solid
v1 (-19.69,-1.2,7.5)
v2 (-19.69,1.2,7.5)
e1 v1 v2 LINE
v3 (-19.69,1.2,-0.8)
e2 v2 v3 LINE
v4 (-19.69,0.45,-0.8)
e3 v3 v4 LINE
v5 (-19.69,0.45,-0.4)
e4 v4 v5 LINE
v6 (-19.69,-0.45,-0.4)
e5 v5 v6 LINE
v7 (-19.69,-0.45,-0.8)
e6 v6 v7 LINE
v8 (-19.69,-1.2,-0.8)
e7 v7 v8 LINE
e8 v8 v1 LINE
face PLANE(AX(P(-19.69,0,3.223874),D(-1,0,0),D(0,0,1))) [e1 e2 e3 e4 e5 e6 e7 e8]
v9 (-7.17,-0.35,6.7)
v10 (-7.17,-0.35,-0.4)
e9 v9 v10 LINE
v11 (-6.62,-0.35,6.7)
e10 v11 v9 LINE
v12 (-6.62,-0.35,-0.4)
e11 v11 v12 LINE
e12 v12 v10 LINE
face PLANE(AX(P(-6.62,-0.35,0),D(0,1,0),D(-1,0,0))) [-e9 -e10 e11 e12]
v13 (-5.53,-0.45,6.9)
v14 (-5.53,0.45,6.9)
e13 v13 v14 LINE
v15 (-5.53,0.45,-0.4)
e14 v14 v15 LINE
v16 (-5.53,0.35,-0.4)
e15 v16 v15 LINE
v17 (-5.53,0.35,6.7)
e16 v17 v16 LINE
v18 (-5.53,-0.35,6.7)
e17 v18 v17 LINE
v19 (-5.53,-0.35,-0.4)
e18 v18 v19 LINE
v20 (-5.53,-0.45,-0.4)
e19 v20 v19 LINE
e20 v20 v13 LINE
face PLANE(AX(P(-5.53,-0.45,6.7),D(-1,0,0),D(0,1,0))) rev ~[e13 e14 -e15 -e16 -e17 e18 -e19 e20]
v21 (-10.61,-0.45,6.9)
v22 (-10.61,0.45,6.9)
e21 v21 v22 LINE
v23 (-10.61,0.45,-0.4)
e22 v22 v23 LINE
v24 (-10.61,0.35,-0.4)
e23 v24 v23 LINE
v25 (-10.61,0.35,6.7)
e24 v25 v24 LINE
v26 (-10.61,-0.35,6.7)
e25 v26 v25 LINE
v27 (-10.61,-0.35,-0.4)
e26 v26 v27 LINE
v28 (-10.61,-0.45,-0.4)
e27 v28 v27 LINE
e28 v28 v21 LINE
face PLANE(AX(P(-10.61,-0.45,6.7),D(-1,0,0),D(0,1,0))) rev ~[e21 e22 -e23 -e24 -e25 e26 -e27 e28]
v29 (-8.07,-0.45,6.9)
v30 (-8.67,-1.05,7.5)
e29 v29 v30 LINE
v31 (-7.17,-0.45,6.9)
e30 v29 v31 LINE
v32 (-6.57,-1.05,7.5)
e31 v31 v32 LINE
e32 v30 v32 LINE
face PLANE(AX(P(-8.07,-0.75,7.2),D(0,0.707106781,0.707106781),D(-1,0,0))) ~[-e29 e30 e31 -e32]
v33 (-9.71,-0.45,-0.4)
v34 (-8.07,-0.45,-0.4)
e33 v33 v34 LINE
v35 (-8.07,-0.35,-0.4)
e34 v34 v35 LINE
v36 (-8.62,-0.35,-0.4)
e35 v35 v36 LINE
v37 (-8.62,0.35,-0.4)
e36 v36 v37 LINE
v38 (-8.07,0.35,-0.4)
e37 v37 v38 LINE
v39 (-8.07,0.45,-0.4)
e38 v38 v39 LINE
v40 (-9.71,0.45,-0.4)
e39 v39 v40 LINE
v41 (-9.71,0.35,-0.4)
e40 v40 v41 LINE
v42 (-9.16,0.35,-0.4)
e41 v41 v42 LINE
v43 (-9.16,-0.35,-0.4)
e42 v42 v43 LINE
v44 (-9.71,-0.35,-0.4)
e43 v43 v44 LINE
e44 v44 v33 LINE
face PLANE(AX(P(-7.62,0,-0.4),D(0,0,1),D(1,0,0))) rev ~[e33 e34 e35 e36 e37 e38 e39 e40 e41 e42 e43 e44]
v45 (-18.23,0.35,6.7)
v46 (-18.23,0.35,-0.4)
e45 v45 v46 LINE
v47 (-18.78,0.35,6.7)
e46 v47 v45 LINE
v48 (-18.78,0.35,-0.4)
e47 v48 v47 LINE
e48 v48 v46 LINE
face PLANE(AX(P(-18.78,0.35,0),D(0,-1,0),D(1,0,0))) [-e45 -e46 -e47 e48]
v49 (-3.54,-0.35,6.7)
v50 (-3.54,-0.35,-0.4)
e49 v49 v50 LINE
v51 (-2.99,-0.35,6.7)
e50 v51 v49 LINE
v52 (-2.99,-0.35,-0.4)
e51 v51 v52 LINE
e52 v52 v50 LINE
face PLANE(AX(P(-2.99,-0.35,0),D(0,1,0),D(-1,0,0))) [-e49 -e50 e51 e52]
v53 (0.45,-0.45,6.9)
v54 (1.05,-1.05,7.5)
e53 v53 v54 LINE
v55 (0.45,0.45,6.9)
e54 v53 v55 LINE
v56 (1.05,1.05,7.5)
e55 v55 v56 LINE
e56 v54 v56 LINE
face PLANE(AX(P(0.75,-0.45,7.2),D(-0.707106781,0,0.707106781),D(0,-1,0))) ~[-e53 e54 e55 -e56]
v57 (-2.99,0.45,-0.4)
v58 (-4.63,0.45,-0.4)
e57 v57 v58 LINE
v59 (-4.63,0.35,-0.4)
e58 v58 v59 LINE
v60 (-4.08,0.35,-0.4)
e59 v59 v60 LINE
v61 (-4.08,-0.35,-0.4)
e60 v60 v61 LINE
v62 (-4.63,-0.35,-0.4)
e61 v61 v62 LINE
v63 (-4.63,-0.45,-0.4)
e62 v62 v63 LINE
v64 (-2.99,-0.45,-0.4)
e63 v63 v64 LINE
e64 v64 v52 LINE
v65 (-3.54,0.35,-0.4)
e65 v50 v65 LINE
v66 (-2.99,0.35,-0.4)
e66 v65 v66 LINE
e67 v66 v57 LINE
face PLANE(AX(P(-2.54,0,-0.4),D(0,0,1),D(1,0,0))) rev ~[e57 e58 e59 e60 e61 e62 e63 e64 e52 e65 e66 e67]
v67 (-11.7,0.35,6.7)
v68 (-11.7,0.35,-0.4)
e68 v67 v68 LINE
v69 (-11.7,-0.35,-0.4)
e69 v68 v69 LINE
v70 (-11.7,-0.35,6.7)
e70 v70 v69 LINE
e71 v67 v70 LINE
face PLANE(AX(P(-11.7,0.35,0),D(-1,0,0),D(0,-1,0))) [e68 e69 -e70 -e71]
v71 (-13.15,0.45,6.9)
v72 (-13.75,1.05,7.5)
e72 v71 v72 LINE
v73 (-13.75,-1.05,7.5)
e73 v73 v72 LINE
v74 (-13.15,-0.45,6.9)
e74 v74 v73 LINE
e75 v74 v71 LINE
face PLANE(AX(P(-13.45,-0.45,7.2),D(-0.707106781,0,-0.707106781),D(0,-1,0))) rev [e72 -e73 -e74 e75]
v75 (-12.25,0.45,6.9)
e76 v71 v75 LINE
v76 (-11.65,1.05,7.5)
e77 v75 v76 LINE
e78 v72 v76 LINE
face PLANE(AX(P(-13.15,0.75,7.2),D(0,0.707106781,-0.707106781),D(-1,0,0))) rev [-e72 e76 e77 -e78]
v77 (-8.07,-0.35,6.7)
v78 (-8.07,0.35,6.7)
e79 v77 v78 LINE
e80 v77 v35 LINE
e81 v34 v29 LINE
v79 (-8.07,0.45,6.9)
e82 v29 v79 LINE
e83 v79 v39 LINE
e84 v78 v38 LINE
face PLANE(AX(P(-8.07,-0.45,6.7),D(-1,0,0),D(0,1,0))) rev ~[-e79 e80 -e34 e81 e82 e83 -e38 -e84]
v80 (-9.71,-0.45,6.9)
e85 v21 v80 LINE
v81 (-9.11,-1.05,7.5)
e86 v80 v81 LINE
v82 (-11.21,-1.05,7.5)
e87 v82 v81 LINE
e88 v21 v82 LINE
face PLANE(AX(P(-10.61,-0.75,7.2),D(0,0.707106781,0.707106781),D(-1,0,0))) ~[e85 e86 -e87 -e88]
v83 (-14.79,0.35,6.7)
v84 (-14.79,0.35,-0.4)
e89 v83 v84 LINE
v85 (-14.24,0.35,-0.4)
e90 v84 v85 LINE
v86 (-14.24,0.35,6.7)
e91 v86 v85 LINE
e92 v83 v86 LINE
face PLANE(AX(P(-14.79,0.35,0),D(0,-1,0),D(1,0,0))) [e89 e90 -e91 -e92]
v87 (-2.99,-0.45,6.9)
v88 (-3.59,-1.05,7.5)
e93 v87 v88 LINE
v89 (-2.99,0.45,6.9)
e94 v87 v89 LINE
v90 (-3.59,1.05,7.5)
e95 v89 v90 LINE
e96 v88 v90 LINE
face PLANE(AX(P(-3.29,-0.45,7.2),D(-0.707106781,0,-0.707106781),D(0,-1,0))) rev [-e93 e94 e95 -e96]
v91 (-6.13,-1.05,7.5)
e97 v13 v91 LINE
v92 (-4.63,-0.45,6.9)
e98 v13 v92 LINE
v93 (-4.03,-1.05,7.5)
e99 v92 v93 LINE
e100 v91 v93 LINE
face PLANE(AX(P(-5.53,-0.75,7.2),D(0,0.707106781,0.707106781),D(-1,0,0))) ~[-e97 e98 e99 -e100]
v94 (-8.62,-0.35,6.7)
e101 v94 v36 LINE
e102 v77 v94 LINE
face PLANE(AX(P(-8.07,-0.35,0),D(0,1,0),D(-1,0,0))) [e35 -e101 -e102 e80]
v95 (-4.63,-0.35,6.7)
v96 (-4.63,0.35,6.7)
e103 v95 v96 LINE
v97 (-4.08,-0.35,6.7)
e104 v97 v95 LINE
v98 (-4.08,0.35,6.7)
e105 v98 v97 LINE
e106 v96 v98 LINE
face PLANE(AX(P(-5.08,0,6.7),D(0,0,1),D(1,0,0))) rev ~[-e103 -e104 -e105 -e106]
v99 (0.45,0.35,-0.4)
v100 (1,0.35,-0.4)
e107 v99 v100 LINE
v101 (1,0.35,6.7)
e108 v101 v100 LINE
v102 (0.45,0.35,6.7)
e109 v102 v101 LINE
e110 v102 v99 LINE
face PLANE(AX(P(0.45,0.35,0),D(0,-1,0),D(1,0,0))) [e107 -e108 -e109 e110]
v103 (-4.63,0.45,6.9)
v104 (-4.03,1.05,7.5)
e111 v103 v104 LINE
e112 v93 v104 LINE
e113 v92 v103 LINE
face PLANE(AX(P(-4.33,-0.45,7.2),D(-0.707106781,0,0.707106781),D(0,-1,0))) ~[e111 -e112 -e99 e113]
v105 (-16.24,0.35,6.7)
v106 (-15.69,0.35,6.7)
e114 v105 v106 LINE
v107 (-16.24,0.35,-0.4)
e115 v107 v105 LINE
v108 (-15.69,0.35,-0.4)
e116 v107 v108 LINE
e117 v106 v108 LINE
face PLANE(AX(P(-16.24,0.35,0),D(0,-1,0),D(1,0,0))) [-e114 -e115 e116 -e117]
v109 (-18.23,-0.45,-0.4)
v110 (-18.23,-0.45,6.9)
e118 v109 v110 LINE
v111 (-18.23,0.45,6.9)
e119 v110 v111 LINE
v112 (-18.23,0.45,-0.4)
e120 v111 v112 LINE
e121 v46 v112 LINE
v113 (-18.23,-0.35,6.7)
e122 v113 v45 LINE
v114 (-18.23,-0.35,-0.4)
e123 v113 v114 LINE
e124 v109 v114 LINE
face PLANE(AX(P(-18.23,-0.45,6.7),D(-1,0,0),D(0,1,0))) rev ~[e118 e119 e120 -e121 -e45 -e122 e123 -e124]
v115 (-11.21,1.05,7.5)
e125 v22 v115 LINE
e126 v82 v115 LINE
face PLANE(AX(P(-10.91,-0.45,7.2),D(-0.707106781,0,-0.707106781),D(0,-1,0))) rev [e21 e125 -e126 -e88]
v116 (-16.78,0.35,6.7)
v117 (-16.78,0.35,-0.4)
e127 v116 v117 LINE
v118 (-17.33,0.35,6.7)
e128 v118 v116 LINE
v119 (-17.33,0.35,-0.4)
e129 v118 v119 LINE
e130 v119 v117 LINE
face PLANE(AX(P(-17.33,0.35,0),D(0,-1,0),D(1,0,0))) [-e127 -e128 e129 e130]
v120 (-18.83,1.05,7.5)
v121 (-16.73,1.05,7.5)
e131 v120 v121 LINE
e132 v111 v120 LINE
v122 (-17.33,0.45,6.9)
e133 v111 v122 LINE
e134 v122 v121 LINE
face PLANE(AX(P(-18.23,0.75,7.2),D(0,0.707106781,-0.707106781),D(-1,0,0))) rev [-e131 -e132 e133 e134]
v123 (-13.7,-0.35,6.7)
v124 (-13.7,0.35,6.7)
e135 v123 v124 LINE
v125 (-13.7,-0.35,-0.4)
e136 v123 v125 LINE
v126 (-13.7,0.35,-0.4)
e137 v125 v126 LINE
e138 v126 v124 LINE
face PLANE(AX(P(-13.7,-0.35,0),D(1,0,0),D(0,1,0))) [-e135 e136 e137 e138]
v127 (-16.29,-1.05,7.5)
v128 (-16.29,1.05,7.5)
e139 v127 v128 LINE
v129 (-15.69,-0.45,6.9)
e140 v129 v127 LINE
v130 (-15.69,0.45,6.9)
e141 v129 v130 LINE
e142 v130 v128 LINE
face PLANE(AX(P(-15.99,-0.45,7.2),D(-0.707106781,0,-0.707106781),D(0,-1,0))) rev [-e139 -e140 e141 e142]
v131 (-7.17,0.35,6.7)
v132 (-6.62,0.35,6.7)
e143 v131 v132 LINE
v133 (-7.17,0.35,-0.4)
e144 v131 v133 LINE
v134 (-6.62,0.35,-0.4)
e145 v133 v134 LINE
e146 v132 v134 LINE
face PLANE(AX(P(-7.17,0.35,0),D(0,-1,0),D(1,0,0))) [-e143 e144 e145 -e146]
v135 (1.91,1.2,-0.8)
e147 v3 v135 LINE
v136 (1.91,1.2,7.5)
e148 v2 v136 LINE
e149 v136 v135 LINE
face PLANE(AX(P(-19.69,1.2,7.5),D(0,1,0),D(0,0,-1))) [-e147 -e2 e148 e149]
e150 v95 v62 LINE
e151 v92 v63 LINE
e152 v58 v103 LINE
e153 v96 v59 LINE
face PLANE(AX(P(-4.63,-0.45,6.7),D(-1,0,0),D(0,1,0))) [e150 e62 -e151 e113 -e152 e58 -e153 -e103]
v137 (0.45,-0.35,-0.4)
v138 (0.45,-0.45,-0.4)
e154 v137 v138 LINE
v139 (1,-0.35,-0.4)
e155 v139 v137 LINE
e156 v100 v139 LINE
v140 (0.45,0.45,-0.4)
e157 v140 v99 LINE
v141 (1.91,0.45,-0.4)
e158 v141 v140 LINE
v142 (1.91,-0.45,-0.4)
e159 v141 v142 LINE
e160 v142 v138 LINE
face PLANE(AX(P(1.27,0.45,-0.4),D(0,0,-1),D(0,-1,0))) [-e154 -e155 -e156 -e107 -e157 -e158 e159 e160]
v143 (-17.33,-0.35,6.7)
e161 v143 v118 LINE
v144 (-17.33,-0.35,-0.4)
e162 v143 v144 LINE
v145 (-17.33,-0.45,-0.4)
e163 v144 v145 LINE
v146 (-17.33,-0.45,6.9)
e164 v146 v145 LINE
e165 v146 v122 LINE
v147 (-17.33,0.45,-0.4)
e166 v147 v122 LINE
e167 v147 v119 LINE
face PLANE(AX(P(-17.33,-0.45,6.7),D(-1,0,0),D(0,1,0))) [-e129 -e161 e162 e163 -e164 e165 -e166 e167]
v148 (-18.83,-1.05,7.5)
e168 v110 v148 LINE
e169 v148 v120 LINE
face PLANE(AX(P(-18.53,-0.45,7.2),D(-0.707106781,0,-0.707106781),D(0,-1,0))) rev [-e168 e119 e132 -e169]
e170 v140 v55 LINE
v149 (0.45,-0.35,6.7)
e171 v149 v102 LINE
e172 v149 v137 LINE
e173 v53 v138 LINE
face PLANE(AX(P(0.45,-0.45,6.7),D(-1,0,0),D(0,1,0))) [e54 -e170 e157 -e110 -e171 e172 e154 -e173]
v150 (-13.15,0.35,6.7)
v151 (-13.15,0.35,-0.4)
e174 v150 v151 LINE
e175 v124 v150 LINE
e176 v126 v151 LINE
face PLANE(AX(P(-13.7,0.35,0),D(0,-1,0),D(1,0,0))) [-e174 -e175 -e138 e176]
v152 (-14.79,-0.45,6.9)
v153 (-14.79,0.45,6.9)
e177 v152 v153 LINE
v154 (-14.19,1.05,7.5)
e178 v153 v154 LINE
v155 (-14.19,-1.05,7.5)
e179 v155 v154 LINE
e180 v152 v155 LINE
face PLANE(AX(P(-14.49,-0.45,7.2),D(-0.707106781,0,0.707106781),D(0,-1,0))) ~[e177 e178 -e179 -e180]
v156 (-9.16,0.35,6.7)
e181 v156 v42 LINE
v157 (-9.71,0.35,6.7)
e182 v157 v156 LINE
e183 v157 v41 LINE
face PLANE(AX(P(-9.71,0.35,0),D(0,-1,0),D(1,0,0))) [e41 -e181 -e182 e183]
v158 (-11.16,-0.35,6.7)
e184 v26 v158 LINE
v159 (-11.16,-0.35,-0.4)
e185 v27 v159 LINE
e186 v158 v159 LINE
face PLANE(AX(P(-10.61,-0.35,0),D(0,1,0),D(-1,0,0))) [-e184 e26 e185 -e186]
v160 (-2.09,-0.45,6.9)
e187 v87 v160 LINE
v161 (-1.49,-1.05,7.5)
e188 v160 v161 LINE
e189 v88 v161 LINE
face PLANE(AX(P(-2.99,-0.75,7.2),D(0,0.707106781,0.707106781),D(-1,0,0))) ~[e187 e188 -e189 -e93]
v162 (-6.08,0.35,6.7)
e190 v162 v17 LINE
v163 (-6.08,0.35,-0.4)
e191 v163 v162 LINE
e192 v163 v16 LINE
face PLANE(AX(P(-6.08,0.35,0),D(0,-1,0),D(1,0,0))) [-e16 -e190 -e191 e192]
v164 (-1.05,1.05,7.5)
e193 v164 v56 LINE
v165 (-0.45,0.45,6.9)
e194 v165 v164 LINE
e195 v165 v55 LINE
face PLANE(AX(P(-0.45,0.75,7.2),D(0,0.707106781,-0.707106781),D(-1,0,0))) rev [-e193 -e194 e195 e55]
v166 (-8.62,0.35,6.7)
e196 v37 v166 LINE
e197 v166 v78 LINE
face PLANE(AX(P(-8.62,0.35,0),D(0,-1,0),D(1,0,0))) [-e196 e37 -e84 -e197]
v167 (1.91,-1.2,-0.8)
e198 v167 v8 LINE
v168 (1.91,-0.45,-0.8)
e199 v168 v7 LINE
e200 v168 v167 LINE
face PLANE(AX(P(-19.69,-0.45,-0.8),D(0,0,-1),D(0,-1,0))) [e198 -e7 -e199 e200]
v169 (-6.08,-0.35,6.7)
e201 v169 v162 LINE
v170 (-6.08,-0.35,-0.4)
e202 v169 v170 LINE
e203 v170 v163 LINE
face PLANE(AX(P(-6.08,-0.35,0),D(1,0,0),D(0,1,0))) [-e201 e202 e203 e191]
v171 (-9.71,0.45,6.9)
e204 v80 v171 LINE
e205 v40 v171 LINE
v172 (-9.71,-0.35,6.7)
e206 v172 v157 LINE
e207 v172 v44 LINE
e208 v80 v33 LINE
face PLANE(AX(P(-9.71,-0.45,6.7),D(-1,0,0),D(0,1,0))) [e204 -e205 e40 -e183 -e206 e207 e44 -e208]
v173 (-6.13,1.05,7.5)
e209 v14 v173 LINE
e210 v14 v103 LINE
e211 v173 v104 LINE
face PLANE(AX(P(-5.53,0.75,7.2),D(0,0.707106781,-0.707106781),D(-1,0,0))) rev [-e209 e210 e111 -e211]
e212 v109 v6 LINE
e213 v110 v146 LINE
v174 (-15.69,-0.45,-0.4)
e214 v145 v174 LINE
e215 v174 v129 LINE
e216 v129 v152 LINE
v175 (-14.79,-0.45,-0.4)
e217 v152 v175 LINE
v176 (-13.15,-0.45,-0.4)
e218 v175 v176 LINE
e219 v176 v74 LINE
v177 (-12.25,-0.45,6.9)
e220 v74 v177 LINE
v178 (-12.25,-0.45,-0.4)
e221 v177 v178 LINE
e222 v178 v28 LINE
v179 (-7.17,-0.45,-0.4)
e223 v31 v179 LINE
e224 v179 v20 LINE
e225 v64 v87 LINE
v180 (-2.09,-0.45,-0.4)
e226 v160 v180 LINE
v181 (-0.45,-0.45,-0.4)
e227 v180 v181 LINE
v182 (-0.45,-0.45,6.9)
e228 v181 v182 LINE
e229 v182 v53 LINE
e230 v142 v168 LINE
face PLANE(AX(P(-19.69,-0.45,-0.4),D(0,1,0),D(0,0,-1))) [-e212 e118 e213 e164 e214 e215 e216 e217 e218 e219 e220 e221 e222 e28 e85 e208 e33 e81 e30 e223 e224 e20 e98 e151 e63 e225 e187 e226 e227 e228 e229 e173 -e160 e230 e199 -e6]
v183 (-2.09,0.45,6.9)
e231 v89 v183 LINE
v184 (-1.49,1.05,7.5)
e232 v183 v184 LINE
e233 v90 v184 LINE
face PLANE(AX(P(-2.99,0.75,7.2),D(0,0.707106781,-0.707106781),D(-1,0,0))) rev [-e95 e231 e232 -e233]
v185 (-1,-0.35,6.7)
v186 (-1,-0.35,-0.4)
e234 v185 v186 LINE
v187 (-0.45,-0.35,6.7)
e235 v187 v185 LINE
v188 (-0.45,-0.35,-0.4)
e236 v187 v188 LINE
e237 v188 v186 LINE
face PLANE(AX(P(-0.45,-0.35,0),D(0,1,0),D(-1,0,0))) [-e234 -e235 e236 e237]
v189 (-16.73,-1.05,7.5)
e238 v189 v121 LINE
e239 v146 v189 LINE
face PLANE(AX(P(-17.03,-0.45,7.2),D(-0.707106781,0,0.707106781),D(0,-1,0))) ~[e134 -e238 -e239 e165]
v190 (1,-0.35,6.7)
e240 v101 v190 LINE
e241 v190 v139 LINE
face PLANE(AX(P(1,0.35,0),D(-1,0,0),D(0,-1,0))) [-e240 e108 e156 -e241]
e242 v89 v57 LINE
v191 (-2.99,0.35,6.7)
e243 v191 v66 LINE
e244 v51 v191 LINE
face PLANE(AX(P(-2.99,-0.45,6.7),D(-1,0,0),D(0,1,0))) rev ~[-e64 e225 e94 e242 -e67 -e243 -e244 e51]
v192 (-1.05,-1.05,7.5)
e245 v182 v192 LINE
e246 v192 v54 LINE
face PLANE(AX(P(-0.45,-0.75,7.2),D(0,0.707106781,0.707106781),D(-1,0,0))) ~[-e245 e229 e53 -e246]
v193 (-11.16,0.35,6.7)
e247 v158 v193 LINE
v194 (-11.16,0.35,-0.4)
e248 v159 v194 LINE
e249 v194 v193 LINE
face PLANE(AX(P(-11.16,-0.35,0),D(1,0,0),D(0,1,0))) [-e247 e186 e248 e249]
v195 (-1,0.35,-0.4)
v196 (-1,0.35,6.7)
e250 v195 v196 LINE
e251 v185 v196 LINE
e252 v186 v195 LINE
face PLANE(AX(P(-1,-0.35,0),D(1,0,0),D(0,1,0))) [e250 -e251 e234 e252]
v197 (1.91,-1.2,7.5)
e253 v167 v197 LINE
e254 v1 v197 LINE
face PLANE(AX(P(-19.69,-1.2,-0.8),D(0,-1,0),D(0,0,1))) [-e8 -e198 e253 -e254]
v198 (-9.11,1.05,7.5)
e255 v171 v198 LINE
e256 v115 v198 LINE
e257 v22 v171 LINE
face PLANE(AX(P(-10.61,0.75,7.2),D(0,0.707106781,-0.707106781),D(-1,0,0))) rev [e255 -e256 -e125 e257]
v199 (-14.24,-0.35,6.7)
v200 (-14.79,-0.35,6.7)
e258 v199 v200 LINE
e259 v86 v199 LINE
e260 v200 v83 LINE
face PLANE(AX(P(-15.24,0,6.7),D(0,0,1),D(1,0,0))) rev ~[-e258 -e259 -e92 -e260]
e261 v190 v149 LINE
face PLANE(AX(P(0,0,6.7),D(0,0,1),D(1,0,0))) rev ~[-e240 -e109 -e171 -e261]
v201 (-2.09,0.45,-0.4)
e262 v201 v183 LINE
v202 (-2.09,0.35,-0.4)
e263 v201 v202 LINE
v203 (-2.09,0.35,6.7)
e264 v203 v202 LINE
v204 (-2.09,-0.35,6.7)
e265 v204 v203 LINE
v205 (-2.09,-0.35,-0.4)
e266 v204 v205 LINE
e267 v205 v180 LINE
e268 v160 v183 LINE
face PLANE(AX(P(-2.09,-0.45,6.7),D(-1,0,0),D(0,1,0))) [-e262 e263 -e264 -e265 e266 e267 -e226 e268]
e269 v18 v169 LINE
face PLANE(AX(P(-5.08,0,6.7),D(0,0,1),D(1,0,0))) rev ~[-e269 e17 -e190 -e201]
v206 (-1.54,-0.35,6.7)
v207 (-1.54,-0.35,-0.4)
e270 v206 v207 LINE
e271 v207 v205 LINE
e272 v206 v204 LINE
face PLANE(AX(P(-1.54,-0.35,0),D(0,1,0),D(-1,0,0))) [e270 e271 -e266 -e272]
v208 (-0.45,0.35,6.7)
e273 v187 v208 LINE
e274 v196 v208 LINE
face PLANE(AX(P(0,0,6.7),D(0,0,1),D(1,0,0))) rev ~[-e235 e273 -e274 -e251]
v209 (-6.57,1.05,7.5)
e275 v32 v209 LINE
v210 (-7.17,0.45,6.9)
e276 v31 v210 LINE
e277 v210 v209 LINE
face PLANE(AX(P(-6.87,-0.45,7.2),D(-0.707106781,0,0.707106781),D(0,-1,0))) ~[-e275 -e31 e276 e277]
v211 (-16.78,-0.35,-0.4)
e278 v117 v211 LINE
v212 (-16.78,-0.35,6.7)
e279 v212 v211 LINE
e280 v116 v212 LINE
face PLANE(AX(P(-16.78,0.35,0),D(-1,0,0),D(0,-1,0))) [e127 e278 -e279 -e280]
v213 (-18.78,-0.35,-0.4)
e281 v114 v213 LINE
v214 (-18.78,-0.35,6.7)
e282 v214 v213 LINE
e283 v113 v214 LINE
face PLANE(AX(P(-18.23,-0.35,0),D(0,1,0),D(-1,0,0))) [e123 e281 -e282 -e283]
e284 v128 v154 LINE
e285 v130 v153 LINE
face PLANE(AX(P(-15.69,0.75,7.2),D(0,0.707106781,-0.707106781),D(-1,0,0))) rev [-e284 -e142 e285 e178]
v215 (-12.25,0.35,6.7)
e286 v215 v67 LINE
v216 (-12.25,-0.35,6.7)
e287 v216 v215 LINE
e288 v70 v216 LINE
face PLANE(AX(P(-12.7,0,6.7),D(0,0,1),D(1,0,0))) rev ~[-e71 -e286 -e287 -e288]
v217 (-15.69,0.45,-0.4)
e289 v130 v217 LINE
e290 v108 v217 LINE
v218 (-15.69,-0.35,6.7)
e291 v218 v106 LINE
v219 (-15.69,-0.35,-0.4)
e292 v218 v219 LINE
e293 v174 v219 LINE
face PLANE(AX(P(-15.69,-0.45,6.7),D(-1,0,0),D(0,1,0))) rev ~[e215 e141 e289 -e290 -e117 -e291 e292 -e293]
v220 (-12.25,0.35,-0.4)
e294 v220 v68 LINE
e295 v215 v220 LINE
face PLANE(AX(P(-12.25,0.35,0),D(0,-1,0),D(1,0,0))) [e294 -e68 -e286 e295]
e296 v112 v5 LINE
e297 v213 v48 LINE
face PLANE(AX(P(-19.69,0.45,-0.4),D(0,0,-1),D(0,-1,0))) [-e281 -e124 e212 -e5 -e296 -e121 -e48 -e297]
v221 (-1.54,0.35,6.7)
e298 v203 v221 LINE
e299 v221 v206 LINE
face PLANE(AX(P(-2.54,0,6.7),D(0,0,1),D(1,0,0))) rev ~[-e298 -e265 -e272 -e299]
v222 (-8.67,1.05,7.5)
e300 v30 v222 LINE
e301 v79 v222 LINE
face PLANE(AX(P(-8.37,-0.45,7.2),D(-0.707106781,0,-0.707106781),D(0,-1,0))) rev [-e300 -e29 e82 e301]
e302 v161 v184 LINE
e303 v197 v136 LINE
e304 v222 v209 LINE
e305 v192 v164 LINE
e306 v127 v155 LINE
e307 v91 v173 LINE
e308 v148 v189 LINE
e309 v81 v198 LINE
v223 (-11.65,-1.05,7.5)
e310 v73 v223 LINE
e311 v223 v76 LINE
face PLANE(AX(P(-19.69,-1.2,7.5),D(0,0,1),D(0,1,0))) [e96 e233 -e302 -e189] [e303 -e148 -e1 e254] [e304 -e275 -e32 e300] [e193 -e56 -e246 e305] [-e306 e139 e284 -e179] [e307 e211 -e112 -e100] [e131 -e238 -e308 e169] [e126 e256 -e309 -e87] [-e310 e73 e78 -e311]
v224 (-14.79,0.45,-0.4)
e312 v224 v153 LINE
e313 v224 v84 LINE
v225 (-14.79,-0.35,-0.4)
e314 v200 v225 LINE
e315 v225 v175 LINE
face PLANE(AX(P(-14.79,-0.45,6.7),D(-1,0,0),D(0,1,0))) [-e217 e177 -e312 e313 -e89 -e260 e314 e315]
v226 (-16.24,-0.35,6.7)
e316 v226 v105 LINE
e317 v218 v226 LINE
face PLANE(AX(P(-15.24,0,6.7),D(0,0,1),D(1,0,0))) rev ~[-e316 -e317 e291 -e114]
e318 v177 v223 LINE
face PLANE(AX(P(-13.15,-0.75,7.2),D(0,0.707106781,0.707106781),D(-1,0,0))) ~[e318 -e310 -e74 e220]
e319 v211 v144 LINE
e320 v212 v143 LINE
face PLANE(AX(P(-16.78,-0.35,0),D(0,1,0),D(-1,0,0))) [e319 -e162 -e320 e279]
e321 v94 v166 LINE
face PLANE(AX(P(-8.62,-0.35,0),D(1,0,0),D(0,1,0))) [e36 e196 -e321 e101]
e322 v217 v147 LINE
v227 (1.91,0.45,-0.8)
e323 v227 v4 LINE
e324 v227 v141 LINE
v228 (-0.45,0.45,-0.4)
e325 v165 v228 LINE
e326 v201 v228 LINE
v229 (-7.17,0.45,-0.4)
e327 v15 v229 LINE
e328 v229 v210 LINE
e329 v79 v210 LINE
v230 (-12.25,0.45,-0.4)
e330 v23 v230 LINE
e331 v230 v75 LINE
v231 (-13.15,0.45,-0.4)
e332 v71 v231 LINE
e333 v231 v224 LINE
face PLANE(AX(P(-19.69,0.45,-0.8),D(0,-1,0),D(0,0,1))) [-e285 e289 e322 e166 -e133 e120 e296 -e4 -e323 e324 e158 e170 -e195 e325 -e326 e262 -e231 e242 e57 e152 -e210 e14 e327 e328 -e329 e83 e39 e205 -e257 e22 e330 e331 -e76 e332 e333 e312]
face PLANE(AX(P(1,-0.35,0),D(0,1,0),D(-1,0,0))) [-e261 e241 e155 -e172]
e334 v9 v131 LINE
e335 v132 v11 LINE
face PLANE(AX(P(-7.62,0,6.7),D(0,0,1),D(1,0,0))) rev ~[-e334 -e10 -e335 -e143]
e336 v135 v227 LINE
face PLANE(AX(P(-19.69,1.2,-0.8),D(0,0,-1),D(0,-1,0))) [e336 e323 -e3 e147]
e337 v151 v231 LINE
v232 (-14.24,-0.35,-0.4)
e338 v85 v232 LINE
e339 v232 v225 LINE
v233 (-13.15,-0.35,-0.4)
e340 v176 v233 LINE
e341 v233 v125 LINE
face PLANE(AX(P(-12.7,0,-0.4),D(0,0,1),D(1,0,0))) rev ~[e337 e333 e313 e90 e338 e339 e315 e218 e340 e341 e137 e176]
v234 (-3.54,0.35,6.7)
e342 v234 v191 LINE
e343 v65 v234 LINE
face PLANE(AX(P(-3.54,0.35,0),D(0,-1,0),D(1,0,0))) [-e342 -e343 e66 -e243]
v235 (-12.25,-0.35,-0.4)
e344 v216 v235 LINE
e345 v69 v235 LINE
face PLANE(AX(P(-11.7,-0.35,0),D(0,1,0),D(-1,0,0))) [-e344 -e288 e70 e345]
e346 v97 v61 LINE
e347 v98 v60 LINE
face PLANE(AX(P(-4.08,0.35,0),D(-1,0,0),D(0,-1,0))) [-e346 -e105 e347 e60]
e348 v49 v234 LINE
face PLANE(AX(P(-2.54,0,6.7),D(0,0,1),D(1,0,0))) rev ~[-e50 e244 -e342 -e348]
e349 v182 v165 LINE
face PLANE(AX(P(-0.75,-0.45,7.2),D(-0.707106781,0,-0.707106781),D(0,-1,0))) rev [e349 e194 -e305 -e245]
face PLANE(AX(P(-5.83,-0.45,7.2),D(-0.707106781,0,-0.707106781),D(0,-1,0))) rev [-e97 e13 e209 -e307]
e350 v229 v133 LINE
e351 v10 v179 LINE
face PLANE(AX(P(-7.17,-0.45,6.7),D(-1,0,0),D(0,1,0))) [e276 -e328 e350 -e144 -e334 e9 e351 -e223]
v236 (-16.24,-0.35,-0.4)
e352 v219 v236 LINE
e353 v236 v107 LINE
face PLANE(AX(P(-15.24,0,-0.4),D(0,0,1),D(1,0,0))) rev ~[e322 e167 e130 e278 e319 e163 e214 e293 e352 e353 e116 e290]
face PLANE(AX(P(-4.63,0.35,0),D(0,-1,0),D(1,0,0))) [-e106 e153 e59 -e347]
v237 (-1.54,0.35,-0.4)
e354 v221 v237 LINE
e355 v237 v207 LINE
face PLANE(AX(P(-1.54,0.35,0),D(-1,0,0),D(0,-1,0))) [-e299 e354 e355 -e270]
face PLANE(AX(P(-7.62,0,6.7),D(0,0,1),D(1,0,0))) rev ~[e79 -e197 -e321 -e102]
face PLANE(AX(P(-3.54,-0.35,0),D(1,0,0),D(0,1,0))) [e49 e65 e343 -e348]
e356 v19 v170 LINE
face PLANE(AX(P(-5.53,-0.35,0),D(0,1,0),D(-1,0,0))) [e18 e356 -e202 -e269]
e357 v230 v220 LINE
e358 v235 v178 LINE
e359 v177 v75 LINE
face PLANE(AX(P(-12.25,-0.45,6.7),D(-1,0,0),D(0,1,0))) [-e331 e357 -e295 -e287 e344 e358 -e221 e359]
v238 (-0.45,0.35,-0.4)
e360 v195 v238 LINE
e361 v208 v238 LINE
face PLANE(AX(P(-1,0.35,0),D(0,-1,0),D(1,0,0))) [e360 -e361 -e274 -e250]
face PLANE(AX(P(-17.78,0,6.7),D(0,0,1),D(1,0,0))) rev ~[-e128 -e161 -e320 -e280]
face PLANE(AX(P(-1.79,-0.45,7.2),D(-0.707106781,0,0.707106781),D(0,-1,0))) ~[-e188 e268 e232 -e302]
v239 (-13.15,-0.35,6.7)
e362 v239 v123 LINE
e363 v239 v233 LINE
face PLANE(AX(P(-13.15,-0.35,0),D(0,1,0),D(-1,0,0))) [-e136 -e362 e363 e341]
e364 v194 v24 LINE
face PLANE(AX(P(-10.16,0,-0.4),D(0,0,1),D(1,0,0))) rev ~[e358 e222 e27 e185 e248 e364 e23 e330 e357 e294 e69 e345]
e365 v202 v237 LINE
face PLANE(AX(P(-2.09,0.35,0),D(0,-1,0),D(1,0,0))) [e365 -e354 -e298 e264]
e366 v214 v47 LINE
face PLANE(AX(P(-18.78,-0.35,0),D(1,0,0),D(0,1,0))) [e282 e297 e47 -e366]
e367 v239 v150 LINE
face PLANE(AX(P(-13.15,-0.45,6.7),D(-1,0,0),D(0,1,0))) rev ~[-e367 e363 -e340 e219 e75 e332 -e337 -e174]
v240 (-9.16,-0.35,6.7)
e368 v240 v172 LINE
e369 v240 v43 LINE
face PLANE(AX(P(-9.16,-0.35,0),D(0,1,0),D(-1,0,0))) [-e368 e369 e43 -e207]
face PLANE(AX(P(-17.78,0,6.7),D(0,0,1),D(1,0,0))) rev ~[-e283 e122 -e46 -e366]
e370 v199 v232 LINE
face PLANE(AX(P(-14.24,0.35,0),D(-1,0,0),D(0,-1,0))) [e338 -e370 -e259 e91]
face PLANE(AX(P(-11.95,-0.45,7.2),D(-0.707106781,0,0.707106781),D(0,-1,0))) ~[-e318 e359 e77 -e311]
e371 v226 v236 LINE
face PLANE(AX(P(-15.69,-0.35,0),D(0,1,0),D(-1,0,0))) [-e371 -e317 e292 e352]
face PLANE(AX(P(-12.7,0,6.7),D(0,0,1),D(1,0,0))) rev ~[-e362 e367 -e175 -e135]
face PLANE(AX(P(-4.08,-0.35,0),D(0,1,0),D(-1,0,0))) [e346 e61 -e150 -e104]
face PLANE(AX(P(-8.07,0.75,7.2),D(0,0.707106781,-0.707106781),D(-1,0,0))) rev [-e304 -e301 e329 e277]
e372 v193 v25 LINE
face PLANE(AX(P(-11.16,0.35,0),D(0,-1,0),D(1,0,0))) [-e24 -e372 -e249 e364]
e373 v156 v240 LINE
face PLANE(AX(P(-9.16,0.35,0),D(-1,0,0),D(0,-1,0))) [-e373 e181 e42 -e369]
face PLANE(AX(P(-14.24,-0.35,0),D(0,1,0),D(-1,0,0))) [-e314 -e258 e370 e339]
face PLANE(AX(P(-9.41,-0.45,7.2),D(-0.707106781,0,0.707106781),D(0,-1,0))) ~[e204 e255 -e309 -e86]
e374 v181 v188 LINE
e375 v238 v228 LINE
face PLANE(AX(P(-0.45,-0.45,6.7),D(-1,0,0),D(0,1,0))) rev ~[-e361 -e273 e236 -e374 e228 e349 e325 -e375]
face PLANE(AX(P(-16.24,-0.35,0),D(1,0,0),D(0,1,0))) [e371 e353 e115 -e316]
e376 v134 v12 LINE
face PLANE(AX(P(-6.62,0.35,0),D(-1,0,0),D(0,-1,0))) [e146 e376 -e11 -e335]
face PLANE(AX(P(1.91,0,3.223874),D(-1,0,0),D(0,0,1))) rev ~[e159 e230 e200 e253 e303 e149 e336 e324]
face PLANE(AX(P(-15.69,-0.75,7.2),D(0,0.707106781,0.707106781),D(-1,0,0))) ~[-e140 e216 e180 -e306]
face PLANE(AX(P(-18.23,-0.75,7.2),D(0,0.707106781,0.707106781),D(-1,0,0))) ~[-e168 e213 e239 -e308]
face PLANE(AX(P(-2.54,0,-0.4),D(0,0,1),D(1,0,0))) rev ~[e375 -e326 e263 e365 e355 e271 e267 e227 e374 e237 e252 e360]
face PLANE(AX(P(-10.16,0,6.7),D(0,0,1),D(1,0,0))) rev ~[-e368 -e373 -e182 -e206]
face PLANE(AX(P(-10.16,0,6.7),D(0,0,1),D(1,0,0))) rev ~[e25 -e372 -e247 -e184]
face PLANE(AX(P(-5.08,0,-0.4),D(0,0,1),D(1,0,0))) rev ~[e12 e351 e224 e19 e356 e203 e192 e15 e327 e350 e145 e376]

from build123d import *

# Parameters (mm, degrees)
SKETCH_222_W              = 2.54
SKETCH_222_H              = 2.4
EXTRUDE_699_DEPTH         = 6.7
EXTRUDE_699_DEPTH_BACK    = 0.4
SKETCH_753_W              = 2.54
SKETCH_753_H              = 0.75
EXTRUDE_1132_DEPTH        = 0.4
SKETCH_1186_W             = 2.54
SKETCH_1186_H             = 2.4
SKETCH_1186_W_2           = 0.9
SKETCH_1186_H_2           = 0.9
EXTRUDE_1471_DEPTH        = 0.8
CHAMFER_1532_SIZE         = 0.6
PATTERN_LINEAR_1658_COUNT = 8
PATTERN_LINEAR_1658_PITCH = 2.54
EXTRUDE_1_DEPTH           = 0.64
EXTRUDE_START             = -20.96
EXTRUDE_2_DEPTH           = 0.64


with BuildPart() as part:
    # Sketch 222 → Extrude 699 (new body, two sides)
    with BuildSketch(Plane.XY) as extrude_699_sk:
        Rectangle(SKETCH_222_W, SKETCH_222_H)
        Polygon((-1, 0.35), (-0.45, 0.35), (-0.45, 0.45), (0.45, 0.45), (0.45, 0.35), (1, 0.35), (1, -0.35), (0.45, -0.35), (0.45, -0.45), (-0.45, -0.45), (-0.45, -0.35), (-1, -0.35), align=None, mode=Mode.SUBTRACT)
    extrude(amount=EXTRUDE_699_DEPTH)
    extrude(extrude_699_sk.sketch, amount=-EXTRUDE_699_DEPTH_BACK)

    # Sketch 753 → Extrude 1132 (add)
    with BuildSketch(Plane(origin=(0, 0, -0.4), x_dir=(-1, 0, 0), z_dir=(0, 0, -1))):
        with Locations((0, -0.825)):
            Rectangle(SKETCH_753_W, SKETCH_753_H)
        with Locations((0, 0.825)):
            Rectangle(SKETCH_753_W, SKETCH_753_H)
    extrude(amount=EXTRUDE_1132_DEPTH)

    # Sketch 1186 → Extrude 1471 (add)
    with BuildSketch(Plane.XY.offset(6.7)):
        Rectangle(SKETCH_1186_W, SKETCH_1186_H)
        Rectangle(SKETCH_1186_W_2, SKETCH_1186_H_2, mode=Mode.SUBTRACT)
    extrude(amount=EXTRUDE_1471_DEPTH)

    # Chamfer 1532
    chamfer_1532_edges = [part.edges().sort_by_distance(p)[0] for p in [
        (0.45, 0, 7.5),
        (0, 0.45, 7.5),
        (-0.45, 0, 7.5),
        (0, -0.45, 7.5),
    ]]
    chamfer(chamfer_1532_edges, length=CHAMFER_1532_SIZE)


with BuildPart() as pattern_linear_1658_1:
    # Pattern Linear 1658: pattern copy
    add(part.part.moved(Location(Vector(-1, 0, 0) * (1 * PATTERN_LINEAR_1658_PITCH))))


with BuildPart() as pattern_linear_1658_2:
    # Pattern Linear 1658: pattern copy
    add(part.part.moved(Location(Vector(-1, 0, 0) * (2 * PATTERN_LINEAR_1658_PITCH))))


with BuildPart() as pattern_linear_1658_3:
    # Pattern Linear 1658: pattern copy
    add(part.part.moved(Location(Vector(-1, 0, 0) * (3 * PATTERN_LINEAR_1658_PITCH))))


with BuildPart() as pattern_linear_1658_4:
    # Pattern Linear 1658: pattern copy
    add(part.part.moved(Location(Vector(-1, 0, 0) * (4 * PATTERN_LINEAR_1658_PITCH))))


with BuildPart() as pattern_linear_1658_5:
    # Pattern Linear 1658: pattern copy
    add(part.part.moved(Location(Vector(-1, 0, 0) * (5 * PATTERN_LINEAR_1658_PITCH))))


with BuildPart() as pattern_linear_1658_6:
    # Pattern Linear 1658: pattern copy
    add(part.part.moved(Location(Vector(-1, 0, 0) * (6 * PATTERN_LINEAR_1658_PITCH))))


with BuildPart() as pattern_linear_1658_7:
    # Pattern Linear 1658: pattern copy
    add(part.part.moved(Location(Vector(-1, 0, 0) * (7 * PATTERN_LINEAR_1658_PITCH))))


with BuildPart() as part_1:
    add(part.part)

    # Combine 1774: union Pattern Linear 1658_7, Pattern Linear 1658_6, Pattern Linear 1658_5, Pattern Linear 1658_4, Pattern Linear 1658_3, Pattern Linear 1658_2, Pattern Linear 1658_1
    add(pattern_linear_1658_7.part)
    add(pattern_linear_1658_6.part)
    add(pattern_linear_1658_5.part)
    add(pattern_linear_1658_4.part)
    add(pattern_linear_1658_3.part)
    add(pattern_linear_1658_2.part)
    add(pattern_linear_1658_1.part)

    # Sketch 2582 → Бобышка-БоковаяНакладка1 (add)
    with BuildSketch(Plane(origin=(1.27, 0, 0), x_dir=(0, 0, -1), z_dir=(1, 0, 0))):
        Polygon((0.8, 1.2), (0.8, 0.45), (0.4, 0.45), (0.4, -0.45), (0.8, -0.45), (0.8, -1.2), (-7.5, -1.2), (-7.5, 1.2), align=None)
    extrude(amount=EXTRUDE_1_DEPTH)

    # Эскиз-БоковаяНакладка<2> → Бобышка-БоковаяНакладка2 (add)
    with BuildSketch(Plane(origin=(1.27, 0, 0), x_dir=(0, 0, -1), z_dir=(1, 0, 0)).offset(EXTRUDE_START)):
        Polygon((0.8, 1.2), (0.8, 0.45), (0.4, 0.45), (0.4, -0.45), (0.8, -0.45), (0.8, -1.2), (-7.5, -1.2), (-7.5, 1.2), align=None)
    extrude(amount=EXTRUDE_2_DEPTH)


solid = part_1.part
